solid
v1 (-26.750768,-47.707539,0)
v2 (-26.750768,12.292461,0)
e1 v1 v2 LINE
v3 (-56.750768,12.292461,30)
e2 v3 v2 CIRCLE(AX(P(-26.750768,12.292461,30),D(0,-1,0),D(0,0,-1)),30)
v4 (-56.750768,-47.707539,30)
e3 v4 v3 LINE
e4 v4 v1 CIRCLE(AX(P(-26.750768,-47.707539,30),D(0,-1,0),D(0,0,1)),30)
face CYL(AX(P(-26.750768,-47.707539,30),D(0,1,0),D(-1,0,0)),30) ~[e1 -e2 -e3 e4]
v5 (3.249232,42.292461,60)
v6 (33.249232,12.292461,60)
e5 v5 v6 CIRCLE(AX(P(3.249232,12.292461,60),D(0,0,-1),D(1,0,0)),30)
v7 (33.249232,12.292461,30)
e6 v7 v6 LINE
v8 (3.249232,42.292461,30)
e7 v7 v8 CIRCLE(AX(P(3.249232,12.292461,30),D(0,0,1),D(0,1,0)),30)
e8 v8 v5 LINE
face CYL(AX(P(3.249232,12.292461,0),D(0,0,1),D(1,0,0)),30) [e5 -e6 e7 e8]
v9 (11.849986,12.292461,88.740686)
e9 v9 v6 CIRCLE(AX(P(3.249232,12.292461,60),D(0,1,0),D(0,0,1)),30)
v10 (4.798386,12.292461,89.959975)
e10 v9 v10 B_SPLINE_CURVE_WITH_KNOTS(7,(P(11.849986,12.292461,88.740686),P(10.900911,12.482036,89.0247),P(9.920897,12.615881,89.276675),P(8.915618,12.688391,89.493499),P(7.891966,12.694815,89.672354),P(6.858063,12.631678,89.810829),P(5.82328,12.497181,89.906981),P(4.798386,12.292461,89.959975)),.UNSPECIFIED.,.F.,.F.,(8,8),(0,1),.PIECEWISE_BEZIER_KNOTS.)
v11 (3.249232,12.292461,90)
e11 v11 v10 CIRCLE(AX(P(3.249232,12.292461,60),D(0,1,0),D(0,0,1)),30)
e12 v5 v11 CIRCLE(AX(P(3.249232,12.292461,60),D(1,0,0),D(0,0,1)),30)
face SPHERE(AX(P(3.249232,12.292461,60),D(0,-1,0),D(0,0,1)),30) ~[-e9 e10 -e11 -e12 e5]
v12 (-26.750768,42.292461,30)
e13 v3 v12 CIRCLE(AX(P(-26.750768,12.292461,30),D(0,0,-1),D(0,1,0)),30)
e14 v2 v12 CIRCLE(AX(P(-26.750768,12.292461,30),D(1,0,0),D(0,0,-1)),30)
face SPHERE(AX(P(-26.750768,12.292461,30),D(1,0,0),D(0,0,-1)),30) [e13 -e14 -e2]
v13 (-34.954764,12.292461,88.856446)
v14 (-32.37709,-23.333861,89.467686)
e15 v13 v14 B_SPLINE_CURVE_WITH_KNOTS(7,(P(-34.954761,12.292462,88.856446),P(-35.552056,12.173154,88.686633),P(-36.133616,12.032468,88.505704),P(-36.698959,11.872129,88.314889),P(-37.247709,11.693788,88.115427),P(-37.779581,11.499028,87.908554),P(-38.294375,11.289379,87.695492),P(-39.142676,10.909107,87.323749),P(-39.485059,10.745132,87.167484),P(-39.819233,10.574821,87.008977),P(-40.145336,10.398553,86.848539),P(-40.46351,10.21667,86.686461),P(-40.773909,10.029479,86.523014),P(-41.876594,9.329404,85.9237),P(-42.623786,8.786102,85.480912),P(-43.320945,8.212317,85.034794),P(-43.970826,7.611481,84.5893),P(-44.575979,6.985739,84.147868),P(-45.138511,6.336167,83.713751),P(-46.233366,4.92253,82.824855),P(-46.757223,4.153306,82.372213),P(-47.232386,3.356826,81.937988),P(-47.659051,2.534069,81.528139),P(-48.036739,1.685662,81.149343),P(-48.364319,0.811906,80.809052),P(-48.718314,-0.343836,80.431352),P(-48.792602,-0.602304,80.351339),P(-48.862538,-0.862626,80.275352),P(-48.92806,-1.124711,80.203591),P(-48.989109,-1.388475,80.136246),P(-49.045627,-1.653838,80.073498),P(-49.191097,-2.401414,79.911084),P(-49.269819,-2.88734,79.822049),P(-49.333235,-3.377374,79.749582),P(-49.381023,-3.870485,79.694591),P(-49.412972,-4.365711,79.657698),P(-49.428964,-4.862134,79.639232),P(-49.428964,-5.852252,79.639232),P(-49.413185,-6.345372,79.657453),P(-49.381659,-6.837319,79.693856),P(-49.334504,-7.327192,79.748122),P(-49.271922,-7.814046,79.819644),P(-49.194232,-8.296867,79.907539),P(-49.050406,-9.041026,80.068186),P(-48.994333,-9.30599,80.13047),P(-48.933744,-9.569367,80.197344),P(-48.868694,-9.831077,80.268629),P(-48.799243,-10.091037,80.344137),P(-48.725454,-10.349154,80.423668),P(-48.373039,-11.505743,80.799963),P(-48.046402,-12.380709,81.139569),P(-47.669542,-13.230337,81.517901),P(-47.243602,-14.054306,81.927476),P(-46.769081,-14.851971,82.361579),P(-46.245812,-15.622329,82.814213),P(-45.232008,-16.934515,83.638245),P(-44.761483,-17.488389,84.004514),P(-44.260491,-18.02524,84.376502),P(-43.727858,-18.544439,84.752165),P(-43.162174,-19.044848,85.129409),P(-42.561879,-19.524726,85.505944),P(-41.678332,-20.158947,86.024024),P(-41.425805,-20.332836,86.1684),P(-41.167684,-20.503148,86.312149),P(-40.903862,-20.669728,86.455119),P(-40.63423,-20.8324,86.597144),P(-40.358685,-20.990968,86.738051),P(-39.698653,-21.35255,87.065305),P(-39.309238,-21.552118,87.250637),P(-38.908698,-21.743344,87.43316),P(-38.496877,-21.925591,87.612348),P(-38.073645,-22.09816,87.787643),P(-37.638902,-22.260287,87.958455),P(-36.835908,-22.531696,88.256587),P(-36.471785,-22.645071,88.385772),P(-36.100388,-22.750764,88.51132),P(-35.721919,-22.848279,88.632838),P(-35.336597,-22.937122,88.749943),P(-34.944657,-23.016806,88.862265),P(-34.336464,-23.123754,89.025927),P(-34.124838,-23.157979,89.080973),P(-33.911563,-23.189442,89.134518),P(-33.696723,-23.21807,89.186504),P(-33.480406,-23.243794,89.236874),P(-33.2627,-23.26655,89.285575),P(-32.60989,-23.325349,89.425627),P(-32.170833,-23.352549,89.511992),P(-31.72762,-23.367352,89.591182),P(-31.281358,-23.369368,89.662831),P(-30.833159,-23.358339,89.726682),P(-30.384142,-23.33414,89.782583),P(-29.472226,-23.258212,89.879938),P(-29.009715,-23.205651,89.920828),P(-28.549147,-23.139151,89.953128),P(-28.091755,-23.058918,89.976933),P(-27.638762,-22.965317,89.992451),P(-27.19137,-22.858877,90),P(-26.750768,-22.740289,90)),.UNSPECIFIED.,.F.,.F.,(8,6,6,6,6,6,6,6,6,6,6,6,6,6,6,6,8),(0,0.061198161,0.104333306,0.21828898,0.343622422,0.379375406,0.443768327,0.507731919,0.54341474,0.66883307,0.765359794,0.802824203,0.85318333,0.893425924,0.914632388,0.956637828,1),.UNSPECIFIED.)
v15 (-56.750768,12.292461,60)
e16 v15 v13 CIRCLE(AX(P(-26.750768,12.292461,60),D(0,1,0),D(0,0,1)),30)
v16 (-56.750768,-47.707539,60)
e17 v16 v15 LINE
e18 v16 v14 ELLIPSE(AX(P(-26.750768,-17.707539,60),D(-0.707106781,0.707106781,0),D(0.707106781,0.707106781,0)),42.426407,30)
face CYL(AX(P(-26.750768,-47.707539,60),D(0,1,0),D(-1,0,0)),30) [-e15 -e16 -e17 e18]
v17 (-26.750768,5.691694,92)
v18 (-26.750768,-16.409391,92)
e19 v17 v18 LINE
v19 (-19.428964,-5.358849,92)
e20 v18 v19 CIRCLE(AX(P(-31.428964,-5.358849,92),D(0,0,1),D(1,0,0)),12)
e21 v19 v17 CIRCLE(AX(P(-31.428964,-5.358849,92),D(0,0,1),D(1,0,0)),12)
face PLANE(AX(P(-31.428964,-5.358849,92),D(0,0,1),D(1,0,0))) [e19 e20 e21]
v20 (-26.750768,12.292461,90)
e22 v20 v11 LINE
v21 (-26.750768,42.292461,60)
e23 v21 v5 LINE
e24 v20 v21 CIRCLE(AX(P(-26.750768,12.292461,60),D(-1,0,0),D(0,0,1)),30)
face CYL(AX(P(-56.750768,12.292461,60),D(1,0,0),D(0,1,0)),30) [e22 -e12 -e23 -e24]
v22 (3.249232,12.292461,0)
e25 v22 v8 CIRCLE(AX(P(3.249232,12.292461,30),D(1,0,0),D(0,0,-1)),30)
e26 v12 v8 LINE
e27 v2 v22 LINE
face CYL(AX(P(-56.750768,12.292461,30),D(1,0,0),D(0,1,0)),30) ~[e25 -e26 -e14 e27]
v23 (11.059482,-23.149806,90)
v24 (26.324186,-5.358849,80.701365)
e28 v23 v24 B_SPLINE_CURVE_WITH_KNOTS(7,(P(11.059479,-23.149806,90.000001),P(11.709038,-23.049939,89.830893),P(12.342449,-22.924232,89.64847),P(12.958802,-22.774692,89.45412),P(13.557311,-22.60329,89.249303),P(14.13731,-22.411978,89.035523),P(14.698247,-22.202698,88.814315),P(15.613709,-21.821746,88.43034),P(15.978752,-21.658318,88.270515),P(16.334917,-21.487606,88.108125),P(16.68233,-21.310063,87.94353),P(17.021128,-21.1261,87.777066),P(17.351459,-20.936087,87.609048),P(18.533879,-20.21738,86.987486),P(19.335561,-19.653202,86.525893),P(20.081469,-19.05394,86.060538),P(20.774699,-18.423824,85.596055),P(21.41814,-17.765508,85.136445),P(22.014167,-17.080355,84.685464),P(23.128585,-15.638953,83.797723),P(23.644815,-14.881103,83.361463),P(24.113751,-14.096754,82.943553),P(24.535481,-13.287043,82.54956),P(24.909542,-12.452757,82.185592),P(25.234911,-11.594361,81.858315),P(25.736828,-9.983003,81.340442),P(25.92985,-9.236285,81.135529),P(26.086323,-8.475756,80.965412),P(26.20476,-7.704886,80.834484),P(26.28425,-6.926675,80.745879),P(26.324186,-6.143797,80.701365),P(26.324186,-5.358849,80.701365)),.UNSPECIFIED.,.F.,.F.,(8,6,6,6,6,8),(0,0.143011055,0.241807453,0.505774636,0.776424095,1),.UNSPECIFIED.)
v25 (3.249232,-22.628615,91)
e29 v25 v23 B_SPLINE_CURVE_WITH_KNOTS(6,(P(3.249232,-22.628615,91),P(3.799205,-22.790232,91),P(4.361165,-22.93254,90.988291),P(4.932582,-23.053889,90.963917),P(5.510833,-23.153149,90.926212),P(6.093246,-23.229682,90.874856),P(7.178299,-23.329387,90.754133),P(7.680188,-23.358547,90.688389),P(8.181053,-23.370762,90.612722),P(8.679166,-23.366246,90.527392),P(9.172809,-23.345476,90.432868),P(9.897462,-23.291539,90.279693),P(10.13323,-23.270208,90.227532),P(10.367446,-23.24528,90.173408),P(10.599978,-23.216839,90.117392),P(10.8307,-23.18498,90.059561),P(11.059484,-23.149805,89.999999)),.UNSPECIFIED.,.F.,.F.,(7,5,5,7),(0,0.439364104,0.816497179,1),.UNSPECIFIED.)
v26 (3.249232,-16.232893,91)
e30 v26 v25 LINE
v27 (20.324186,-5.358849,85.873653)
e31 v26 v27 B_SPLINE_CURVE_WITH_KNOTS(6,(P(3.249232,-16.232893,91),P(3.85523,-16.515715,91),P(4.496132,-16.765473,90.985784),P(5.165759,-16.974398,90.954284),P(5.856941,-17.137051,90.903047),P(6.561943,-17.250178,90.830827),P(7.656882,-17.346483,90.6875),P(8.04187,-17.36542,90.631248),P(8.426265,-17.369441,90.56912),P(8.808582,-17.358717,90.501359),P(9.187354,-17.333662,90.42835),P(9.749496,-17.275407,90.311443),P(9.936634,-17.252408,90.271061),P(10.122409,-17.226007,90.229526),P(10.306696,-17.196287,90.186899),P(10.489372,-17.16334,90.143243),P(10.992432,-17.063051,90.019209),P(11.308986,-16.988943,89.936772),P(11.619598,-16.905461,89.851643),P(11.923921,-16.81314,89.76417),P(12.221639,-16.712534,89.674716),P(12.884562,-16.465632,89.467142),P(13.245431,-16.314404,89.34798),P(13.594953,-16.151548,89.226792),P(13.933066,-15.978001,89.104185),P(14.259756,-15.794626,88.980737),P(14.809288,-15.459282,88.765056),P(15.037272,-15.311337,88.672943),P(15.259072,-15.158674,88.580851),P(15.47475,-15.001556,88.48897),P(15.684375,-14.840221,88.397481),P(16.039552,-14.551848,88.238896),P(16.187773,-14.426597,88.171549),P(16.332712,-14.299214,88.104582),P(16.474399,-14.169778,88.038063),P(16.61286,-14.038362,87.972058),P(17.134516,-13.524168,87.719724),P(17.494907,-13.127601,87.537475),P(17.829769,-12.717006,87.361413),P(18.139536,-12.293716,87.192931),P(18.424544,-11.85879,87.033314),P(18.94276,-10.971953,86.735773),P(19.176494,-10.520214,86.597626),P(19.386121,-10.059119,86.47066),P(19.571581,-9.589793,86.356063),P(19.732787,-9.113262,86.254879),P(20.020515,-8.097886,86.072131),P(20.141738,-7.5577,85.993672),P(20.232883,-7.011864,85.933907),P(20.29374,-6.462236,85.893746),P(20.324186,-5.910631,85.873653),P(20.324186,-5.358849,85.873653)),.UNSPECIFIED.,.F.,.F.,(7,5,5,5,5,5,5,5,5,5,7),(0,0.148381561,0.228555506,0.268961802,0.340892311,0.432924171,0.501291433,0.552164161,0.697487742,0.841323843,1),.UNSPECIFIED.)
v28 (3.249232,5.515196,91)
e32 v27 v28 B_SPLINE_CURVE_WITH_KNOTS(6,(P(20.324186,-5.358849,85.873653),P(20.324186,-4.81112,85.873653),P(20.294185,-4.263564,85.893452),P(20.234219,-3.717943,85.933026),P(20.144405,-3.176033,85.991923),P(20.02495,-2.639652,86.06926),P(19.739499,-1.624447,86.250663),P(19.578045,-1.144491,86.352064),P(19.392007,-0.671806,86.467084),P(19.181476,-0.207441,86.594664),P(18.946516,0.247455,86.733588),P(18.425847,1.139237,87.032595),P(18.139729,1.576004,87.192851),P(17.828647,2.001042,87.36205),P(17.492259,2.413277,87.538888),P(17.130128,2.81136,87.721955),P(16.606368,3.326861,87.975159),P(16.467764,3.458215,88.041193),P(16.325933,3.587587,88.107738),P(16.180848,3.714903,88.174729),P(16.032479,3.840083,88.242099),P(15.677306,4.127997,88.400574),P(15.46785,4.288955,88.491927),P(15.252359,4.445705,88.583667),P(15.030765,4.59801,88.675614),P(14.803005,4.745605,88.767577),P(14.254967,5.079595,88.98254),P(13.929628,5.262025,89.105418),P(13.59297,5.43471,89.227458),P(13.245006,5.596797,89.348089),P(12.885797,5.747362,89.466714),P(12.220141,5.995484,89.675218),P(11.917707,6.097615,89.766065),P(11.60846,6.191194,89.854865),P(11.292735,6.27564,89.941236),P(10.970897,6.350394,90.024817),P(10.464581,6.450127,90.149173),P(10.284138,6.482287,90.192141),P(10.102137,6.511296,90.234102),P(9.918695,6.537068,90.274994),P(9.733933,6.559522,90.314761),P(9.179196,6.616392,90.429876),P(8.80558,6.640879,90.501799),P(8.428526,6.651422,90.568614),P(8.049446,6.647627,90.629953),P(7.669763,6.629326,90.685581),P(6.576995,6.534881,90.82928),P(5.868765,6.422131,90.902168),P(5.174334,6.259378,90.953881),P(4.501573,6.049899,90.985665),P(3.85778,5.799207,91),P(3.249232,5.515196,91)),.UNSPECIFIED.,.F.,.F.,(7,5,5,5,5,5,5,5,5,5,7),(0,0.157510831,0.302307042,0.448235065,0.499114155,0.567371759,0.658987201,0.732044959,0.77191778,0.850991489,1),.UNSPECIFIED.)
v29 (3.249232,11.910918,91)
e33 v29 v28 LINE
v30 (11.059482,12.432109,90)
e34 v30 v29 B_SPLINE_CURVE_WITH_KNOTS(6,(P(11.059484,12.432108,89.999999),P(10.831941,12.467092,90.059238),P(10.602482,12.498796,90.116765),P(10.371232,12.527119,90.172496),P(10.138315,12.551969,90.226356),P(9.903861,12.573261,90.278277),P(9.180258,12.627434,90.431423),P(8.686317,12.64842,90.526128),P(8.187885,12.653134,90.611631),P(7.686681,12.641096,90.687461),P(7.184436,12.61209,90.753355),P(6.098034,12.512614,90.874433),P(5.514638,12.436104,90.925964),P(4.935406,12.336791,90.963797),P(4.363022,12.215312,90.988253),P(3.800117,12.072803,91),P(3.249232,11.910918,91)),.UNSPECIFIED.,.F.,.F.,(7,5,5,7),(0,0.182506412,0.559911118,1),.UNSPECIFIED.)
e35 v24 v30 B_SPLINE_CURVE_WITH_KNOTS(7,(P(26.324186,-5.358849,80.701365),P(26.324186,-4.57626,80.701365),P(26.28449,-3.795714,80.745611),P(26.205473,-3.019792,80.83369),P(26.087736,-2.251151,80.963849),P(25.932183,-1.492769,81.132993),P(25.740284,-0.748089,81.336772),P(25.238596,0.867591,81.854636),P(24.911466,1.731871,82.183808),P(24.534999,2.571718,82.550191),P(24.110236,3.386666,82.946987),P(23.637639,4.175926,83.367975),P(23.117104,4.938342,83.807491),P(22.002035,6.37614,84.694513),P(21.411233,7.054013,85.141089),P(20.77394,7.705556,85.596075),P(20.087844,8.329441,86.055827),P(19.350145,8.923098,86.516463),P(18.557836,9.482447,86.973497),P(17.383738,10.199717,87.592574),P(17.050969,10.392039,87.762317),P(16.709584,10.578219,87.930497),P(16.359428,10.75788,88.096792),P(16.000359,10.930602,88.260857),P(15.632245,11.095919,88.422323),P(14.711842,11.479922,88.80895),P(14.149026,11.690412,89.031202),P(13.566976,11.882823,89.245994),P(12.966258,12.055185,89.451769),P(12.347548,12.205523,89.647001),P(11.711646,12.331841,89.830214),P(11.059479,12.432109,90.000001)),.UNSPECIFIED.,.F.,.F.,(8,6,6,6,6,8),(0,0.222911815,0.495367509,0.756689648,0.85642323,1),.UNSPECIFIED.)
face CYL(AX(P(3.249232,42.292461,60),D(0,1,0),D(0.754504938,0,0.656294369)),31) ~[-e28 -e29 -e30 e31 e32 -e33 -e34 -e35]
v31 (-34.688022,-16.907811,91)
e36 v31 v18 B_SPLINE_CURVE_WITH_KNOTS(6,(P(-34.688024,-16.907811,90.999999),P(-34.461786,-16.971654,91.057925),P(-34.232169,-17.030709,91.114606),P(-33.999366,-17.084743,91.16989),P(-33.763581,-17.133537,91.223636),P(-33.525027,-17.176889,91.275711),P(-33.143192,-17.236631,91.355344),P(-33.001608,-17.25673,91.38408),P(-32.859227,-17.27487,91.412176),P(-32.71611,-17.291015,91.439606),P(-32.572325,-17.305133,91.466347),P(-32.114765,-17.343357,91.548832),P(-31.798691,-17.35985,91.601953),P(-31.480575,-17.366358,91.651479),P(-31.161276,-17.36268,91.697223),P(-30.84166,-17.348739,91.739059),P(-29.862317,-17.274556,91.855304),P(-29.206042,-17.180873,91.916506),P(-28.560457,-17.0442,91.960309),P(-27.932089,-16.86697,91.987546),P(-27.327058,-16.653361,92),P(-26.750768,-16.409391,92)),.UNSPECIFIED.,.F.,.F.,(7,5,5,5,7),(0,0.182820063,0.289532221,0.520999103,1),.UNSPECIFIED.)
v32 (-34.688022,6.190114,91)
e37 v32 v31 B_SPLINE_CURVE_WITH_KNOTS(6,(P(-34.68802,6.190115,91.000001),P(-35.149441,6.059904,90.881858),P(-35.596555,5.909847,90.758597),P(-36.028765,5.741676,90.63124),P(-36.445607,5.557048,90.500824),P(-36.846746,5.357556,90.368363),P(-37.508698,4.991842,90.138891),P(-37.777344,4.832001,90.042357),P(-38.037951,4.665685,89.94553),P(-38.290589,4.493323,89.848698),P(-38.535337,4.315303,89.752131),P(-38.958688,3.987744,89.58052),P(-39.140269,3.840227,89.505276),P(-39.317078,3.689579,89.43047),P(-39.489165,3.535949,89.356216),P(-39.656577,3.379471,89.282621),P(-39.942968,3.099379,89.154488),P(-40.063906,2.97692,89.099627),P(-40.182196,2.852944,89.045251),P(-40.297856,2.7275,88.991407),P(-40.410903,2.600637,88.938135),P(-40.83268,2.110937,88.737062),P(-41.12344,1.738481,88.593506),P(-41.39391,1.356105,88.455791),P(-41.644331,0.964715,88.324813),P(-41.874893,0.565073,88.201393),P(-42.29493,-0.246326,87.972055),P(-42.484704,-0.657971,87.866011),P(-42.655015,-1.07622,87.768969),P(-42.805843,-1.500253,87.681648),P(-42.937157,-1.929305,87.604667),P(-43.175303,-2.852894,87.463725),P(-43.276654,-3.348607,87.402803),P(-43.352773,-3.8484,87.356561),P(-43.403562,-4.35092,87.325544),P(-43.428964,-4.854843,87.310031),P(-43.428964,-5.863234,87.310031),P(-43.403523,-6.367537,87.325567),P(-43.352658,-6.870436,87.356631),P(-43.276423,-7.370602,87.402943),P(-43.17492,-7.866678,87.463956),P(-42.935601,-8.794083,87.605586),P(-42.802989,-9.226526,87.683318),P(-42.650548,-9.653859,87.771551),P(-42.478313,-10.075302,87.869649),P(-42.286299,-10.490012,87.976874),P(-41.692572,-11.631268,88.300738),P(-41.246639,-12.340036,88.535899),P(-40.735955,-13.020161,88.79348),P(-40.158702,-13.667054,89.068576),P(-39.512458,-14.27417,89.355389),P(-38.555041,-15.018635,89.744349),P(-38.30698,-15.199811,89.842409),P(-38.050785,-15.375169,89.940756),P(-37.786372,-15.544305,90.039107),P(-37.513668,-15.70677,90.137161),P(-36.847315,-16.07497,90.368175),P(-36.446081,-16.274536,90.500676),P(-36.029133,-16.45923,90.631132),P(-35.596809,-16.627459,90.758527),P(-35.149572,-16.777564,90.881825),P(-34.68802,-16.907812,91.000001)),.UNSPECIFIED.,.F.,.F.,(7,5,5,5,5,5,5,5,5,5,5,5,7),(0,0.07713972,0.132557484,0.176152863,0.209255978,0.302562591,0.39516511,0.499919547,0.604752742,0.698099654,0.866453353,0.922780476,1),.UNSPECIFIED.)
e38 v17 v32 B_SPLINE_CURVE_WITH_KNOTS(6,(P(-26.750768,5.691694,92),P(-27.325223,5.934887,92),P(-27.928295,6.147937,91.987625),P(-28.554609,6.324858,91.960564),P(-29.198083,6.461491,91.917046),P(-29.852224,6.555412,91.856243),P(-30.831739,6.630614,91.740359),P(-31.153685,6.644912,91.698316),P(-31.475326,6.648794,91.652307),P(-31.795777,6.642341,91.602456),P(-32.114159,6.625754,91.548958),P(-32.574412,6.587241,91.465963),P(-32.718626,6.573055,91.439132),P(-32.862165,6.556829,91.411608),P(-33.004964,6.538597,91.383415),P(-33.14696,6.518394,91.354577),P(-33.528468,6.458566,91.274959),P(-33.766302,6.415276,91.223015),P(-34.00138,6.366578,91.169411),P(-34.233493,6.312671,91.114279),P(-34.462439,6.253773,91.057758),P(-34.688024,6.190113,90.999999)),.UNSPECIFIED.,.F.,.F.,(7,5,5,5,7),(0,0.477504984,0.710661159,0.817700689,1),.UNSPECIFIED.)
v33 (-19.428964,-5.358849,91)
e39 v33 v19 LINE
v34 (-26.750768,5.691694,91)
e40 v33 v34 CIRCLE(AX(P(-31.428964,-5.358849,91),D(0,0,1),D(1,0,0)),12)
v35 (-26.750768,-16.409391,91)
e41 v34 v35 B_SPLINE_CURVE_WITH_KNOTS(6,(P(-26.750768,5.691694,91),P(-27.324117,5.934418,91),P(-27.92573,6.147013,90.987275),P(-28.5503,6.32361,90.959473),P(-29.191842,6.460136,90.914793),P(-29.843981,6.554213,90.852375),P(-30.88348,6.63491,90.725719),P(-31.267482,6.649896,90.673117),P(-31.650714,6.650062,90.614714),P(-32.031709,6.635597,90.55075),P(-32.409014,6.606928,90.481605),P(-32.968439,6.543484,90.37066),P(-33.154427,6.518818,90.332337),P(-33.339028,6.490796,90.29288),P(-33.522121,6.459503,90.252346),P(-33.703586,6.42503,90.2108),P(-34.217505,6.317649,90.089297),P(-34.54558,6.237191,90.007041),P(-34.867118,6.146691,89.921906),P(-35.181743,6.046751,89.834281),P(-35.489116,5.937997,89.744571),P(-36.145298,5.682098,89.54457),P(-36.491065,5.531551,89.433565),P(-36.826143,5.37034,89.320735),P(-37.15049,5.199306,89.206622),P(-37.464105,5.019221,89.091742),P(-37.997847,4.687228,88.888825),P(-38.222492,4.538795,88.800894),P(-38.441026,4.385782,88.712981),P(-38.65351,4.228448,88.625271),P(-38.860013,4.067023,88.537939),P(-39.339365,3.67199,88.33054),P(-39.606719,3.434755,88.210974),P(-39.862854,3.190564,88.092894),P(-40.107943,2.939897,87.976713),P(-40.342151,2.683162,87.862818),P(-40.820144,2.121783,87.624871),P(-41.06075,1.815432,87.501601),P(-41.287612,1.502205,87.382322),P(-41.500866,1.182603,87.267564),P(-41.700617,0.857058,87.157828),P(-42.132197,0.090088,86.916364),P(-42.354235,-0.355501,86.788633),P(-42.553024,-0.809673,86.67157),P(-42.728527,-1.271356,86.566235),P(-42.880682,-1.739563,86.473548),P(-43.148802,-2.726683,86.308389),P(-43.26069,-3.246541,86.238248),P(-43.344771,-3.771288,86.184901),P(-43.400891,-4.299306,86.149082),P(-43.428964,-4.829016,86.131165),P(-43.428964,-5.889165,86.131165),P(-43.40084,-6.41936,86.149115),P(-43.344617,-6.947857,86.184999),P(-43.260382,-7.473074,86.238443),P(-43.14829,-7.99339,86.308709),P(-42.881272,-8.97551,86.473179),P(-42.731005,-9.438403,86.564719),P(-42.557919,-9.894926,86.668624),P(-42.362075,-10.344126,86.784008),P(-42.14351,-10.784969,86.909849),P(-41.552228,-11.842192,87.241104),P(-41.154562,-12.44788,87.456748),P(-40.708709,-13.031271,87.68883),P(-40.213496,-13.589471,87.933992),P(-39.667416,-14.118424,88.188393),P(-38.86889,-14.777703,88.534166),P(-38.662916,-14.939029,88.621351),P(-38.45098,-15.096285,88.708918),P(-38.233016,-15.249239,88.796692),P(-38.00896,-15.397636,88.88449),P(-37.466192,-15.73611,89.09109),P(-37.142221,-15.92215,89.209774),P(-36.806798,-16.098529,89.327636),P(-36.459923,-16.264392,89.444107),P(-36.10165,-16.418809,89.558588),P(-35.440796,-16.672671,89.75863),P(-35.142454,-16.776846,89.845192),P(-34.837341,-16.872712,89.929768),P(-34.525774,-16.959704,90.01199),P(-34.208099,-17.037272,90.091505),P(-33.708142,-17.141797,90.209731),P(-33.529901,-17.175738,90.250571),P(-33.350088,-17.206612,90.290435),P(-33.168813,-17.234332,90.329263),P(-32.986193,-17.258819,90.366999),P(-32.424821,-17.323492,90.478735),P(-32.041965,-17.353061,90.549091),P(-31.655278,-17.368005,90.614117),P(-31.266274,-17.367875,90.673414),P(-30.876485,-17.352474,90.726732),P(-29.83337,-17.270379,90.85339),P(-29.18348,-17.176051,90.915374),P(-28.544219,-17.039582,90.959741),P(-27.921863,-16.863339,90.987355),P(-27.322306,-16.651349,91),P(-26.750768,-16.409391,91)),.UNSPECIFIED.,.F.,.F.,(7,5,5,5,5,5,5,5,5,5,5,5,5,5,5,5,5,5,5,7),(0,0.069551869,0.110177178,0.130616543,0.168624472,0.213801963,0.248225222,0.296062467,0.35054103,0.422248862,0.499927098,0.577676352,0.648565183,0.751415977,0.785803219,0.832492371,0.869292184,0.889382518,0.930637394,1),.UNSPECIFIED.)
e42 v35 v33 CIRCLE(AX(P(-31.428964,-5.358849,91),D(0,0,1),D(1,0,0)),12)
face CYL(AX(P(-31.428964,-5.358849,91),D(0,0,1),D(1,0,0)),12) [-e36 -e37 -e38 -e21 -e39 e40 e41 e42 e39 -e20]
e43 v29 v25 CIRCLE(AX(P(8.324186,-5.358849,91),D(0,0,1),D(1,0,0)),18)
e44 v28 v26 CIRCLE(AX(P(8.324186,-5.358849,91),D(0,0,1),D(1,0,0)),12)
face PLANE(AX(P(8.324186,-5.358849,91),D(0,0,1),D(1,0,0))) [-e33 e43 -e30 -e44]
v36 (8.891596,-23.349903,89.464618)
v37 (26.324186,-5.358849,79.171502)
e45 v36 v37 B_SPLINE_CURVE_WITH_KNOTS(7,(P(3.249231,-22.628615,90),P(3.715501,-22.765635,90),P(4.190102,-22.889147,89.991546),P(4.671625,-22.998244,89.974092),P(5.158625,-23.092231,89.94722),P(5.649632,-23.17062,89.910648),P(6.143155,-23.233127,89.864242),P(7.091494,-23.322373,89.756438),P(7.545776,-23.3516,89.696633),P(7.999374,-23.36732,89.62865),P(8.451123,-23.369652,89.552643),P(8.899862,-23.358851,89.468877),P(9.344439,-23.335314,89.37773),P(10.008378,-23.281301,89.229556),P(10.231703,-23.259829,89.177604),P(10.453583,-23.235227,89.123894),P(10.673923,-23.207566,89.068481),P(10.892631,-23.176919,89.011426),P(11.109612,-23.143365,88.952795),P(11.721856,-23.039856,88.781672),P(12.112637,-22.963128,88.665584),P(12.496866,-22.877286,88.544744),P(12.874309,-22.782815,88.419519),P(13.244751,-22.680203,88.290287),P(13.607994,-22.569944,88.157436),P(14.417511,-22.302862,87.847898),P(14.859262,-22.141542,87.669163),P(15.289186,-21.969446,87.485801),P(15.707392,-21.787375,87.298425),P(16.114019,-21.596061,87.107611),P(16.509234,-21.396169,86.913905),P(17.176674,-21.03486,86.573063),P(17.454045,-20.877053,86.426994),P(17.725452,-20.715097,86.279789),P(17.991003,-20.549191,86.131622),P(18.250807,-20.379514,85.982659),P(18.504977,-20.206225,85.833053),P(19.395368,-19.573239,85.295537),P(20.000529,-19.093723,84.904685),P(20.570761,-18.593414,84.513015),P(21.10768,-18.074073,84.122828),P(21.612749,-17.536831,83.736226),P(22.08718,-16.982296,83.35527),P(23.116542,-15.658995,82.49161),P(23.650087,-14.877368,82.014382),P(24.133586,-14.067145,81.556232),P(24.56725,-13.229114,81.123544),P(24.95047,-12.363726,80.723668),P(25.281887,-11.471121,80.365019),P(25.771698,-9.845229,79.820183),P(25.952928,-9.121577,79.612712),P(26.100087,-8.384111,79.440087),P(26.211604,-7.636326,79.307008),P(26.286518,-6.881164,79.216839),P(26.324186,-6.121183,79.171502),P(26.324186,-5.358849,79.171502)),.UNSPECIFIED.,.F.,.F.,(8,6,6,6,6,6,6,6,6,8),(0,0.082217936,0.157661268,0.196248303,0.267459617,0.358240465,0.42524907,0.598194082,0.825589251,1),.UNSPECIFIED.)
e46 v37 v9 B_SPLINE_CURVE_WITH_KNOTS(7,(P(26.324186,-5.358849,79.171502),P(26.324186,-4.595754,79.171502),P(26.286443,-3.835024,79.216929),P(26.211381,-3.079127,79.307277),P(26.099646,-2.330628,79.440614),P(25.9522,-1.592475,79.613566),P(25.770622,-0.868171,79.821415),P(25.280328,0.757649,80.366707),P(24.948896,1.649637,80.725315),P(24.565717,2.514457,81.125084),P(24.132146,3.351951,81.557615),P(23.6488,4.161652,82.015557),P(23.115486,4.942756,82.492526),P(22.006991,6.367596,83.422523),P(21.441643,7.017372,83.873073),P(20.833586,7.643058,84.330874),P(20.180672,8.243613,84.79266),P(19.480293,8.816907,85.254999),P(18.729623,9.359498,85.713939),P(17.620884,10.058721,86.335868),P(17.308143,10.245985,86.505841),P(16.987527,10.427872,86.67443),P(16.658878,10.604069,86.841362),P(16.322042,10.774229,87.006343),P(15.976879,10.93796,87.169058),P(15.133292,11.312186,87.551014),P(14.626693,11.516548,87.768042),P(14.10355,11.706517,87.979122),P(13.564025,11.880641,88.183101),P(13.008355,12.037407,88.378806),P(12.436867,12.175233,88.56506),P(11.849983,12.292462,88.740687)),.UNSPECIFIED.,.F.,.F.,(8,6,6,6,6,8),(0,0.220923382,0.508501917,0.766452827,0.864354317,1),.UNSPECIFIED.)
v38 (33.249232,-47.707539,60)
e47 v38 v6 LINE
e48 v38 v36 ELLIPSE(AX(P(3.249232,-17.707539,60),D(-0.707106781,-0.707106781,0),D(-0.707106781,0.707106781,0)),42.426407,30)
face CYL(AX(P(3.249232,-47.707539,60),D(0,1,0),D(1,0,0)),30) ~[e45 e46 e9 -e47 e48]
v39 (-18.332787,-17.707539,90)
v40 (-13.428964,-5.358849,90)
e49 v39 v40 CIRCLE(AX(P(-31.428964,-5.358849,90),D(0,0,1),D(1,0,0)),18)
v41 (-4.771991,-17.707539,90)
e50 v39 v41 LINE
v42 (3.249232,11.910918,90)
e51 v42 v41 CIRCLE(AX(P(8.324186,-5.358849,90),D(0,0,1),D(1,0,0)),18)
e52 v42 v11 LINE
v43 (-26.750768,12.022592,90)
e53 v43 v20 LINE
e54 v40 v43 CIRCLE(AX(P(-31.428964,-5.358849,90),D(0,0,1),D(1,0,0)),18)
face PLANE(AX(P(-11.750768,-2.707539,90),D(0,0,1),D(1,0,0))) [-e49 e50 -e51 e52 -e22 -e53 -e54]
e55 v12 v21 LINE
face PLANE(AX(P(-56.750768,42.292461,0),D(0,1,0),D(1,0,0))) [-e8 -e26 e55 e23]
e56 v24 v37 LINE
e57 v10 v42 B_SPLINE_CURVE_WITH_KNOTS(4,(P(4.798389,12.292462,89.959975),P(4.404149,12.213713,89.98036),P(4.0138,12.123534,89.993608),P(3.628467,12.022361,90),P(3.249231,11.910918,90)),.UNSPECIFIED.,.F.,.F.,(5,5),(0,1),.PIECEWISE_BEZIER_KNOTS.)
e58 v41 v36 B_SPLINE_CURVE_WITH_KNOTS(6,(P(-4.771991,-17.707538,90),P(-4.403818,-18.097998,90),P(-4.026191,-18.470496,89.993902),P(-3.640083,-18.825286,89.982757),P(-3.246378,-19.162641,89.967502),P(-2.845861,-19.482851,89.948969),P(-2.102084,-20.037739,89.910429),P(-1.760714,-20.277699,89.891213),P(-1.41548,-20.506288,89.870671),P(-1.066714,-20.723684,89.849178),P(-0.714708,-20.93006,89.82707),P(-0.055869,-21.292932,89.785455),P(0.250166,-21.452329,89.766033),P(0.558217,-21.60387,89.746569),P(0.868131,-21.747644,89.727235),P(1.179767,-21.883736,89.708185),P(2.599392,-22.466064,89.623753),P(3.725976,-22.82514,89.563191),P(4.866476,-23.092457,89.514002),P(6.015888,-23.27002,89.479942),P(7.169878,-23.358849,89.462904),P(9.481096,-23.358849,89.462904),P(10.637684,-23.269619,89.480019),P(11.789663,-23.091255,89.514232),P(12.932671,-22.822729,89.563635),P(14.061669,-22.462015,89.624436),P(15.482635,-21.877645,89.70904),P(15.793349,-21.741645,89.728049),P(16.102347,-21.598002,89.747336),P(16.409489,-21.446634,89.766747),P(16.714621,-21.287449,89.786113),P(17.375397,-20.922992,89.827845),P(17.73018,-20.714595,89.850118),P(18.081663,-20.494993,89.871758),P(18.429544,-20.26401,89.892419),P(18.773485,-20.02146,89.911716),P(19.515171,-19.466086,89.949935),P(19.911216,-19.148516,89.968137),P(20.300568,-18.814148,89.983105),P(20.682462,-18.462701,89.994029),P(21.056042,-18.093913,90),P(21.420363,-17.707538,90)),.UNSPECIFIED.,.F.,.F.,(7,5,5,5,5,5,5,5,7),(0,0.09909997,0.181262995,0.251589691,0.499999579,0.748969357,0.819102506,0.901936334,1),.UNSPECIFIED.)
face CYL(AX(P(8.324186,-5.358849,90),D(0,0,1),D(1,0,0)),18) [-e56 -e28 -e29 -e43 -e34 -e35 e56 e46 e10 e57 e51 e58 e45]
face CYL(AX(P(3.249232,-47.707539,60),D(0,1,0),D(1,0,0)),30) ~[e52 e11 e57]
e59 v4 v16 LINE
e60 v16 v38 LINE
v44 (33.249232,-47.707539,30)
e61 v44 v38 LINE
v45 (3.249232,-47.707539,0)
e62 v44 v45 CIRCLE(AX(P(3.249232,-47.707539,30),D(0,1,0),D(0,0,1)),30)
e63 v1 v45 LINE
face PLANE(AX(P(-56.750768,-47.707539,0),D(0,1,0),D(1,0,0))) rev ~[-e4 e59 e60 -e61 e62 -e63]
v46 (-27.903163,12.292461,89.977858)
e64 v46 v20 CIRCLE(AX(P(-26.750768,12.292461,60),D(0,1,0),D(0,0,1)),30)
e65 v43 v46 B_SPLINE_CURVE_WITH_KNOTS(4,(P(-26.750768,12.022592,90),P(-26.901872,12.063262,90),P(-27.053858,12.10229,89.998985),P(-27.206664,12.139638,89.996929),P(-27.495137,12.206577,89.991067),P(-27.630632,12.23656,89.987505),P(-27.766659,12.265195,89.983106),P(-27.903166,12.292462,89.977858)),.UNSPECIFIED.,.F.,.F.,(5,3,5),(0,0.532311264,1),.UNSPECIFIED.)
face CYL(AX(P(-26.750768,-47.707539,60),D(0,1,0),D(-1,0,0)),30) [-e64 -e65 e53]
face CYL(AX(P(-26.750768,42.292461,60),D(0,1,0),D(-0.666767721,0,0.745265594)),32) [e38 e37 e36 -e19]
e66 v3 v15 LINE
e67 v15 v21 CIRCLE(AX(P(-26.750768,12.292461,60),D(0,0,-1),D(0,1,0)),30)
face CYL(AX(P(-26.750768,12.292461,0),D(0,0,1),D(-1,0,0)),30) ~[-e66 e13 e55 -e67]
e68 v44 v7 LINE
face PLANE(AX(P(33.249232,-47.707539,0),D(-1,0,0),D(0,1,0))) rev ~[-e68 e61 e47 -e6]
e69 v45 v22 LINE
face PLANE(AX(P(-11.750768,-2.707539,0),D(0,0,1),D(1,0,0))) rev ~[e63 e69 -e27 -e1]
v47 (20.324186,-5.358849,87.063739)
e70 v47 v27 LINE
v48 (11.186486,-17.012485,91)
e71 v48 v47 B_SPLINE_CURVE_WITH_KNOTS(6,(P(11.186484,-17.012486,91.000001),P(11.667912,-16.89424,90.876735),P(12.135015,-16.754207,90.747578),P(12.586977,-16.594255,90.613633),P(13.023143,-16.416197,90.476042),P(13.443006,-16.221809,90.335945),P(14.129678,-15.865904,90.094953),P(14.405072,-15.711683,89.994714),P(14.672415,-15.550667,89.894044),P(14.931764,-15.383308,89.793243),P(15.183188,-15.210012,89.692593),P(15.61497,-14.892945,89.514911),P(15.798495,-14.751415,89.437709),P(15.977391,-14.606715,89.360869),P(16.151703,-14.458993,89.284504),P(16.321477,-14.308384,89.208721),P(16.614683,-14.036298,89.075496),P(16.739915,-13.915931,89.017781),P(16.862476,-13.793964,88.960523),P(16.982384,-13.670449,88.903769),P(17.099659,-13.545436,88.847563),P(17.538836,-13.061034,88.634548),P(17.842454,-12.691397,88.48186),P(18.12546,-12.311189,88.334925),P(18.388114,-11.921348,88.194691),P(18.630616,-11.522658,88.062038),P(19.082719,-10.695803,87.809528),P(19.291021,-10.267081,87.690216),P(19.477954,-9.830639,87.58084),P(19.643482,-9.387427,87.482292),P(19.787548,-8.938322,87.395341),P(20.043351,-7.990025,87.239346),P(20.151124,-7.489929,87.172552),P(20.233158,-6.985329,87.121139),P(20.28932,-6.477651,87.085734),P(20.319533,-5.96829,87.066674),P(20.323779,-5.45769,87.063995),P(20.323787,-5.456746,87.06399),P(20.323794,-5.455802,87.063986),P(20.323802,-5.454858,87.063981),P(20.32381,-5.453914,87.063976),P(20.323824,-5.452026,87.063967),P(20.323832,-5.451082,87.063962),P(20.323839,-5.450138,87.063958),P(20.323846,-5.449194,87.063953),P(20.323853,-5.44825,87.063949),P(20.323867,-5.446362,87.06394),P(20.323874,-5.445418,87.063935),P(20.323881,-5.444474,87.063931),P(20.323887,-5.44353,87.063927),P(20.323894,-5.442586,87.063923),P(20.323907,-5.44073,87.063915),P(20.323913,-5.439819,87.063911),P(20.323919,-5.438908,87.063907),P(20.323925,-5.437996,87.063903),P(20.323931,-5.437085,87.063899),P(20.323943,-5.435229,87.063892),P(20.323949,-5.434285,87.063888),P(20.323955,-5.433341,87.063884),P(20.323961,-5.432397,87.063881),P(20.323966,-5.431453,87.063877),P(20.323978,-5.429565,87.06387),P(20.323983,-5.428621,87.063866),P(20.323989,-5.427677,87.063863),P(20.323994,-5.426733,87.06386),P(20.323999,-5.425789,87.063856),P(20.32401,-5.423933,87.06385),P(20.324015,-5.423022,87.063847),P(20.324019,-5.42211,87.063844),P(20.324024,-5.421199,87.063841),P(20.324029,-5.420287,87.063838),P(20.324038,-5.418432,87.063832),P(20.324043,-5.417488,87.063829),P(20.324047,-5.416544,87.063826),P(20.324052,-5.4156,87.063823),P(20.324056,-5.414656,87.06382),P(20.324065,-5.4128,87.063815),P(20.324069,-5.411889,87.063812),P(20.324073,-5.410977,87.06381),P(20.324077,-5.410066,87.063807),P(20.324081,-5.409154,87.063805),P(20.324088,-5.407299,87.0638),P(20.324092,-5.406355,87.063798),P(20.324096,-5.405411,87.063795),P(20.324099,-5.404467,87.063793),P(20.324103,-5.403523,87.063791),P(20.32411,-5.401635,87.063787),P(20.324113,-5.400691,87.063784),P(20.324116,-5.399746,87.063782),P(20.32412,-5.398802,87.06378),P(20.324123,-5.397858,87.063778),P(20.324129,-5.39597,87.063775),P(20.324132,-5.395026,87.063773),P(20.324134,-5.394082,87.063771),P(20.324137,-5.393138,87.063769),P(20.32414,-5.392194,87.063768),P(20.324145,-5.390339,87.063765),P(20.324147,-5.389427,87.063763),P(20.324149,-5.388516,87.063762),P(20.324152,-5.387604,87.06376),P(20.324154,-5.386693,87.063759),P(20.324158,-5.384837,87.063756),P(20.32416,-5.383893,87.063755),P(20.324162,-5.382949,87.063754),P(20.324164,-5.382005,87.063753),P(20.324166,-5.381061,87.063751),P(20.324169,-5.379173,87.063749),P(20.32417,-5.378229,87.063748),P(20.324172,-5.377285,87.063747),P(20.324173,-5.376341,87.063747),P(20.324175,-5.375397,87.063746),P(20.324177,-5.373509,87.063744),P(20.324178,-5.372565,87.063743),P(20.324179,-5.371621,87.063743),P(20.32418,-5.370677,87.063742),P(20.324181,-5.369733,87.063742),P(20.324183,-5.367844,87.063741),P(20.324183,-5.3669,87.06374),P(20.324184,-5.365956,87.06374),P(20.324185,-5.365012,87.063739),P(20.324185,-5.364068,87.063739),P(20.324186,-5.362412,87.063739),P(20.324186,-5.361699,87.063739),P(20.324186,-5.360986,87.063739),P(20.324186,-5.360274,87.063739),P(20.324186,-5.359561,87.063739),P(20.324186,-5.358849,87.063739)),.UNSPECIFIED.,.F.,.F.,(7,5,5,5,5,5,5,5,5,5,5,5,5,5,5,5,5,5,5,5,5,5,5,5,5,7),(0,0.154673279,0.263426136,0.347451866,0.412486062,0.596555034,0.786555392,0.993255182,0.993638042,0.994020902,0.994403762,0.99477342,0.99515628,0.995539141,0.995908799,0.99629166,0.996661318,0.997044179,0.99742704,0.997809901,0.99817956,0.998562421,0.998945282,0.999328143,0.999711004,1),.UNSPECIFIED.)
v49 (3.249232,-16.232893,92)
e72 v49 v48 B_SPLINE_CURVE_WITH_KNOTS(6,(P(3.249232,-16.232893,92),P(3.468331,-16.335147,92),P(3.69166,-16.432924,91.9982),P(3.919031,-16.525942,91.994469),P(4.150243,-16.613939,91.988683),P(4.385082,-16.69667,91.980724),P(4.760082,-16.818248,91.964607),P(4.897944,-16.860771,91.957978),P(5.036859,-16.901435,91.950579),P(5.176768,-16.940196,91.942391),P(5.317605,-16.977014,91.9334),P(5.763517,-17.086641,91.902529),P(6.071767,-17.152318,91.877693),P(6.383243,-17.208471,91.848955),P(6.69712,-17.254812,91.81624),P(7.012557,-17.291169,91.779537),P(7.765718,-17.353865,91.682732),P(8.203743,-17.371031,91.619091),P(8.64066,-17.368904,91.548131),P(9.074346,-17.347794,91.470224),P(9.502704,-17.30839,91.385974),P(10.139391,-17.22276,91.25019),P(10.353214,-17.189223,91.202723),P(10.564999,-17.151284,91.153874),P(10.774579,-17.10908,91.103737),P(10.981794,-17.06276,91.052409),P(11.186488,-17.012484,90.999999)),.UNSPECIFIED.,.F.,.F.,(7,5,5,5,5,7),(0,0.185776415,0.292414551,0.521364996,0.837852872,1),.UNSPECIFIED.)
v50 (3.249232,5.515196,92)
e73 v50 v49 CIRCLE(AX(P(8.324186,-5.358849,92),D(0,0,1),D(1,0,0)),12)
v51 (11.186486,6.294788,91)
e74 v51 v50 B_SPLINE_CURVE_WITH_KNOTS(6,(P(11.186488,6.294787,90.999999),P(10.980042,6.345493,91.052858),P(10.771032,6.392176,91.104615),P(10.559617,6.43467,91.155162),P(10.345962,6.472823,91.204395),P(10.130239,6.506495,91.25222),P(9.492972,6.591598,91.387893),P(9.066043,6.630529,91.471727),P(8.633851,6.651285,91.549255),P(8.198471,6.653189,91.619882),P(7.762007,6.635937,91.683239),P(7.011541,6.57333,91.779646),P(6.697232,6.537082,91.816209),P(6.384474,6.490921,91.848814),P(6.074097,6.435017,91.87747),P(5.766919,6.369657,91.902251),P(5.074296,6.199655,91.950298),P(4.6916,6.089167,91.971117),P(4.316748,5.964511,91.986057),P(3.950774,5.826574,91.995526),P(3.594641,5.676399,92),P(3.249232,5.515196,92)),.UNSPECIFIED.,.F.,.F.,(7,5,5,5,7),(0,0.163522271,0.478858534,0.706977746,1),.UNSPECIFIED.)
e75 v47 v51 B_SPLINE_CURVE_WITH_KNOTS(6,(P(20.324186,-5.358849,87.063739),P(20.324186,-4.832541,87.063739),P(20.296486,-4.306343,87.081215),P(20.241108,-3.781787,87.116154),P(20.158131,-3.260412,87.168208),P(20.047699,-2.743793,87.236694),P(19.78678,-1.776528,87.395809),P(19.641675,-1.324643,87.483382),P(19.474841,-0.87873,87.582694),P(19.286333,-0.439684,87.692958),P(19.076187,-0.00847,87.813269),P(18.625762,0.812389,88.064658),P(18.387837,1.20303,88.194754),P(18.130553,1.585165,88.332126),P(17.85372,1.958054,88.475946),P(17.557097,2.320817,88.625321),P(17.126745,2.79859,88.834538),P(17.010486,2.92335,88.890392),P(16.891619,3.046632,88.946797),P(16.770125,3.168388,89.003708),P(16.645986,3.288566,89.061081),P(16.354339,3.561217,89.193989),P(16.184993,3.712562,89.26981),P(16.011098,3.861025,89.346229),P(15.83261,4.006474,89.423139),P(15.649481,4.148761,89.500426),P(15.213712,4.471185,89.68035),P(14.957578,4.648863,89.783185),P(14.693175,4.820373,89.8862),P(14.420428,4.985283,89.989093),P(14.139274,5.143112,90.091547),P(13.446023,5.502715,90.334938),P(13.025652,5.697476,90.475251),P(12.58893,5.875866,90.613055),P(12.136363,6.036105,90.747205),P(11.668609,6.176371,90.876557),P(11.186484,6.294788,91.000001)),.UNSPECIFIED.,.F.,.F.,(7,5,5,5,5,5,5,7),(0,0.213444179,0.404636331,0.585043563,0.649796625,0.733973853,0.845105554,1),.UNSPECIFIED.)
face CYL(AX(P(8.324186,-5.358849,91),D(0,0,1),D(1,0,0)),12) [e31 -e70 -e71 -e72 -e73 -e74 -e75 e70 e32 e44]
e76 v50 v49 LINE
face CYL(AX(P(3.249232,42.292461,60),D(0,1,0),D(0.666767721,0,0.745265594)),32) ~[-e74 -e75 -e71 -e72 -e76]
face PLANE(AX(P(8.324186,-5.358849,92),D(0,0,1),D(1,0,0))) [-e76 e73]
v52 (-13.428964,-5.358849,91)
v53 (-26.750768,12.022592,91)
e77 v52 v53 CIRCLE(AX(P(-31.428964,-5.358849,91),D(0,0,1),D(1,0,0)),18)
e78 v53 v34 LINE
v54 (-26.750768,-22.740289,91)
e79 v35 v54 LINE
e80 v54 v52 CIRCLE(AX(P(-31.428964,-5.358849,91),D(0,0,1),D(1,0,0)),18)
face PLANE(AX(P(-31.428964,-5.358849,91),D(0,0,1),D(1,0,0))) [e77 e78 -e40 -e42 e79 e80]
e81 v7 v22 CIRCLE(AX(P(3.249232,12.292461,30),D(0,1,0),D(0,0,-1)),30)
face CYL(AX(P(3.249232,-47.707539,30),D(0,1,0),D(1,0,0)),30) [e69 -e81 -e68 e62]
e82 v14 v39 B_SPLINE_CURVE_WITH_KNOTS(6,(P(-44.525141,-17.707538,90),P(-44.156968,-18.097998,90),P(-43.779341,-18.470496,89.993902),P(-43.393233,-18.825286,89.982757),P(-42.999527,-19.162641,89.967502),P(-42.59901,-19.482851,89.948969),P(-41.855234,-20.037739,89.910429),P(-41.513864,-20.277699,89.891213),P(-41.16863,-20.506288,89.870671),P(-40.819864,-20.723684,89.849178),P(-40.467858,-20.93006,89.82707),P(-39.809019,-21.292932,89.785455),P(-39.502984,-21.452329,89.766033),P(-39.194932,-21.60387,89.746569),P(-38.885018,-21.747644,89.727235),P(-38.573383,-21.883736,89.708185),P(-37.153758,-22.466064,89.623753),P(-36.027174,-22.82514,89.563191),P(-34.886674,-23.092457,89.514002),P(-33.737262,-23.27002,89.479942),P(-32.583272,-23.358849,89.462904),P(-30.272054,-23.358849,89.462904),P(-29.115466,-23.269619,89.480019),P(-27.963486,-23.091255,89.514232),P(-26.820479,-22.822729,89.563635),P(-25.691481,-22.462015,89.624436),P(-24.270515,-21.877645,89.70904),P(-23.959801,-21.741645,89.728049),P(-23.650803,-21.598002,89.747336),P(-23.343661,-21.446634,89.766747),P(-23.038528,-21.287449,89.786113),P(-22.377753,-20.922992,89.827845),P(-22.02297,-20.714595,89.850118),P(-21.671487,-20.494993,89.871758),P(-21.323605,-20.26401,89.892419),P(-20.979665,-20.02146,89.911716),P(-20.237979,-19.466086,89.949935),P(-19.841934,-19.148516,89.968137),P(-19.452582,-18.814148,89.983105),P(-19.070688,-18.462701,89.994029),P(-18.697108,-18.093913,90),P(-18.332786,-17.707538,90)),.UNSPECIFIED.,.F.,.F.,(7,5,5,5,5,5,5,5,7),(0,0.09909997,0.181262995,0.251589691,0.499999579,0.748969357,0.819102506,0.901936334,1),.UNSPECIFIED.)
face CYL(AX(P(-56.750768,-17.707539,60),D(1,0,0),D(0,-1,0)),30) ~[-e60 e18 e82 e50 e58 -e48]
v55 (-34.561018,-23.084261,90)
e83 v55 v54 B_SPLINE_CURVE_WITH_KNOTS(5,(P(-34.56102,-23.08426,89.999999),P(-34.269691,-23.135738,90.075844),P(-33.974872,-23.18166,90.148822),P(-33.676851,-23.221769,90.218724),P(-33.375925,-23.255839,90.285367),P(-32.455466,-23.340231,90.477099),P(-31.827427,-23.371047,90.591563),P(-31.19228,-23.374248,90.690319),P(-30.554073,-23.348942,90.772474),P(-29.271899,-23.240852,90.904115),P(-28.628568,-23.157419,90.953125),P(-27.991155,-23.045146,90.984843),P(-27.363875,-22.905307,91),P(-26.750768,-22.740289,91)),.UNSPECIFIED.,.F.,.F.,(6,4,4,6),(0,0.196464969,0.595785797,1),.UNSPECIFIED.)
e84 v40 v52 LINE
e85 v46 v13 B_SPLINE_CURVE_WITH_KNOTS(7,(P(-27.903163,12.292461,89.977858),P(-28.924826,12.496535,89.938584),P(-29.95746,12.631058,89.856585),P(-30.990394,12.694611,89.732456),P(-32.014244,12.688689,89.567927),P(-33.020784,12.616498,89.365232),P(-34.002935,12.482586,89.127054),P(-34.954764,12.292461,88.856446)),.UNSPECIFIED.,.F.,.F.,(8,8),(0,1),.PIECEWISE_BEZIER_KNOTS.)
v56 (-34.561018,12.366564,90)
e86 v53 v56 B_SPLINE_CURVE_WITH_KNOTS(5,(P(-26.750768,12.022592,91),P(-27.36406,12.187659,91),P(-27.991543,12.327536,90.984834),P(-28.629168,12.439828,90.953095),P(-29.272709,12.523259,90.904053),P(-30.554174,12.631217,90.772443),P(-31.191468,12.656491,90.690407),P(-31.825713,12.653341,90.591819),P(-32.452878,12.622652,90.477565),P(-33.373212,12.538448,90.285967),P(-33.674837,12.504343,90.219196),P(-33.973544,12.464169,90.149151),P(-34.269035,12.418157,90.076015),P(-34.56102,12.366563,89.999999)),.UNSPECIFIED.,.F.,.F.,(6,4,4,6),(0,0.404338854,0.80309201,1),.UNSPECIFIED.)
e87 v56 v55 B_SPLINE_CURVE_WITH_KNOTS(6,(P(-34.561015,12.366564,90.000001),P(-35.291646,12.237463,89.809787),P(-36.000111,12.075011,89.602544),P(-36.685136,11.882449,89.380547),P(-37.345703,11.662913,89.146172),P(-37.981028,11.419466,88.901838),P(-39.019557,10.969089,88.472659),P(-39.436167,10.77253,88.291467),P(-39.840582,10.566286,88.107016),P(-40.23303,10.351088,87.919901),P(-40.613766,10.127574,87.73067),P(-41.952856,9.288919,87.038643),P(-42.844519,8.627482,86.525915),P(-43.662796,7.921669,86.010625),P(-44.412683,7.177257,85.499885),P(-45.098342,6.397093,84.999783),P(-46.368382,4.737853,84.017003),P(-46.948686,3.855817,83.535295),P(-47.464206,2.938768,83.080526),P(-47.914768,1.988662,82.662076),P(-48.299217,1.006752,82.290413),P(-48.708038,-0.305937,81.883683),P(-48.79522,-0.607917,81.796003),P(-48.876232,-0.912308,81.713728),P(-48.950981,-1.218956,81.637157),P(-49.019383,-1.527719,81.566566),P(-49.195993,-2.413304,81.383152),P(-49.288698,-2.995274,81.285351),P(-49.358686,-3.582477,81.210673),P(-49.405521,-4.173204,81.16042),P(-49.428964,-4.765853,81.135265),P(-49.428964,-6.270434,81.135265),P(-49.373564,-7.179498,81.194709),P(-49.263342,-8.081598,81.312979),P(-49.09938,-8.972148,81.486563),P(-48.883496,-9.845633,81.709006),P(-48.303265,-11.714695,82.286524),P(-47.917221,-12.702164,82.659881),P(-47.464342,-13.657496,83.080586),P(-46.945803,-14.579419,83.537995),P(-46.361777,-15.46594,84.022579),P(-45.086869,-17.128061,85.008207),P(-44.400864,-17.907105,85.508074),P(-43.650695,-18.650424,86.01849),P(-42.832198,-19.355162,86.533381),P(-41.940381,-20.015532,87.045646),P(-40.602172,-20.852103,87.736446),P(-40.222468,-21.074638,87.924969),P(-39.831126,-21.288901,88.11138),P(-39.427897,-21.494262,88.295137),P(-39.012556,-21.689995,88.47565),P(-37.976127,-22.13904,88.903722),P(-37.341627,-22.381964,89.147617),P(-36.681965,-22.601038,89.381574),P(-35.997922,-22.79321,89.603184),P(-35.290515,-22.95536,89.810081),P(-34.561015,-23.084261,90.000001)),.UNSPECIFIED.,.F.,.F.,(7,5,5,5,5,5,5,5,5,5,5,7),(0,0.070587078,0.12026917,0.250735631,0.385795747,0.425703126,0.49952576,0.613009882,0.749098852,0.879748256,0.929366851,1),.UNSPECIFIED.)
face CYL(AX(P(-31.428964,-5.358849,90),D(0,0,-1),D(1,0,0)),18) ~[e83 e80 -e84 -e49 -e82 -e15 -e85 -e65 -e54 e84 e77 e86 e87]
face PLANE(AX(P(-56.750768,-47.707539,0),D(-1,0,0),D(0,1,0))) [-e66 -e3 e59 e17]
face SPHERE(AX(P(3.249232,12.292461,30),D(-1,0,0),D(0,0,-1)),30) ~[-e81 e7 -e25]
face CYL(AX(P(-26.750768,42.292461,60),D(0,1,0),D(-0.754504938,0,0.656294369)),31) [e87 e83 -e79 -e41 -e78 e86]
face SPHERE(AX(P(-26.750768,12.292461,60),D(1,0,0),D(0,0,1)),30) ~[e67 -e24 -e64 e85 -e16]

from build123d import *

# Parameters (mm, degrees)
CROQUIS1_W                   = 90
CROQUIS1_H                   = 90
SALIENTE_EXTRUIR1_DEPTH      = 90
REDONDEO2_R                  = 30
CROQUIS2_R                   = 18
SALIENTE_EXTRUIR2_DEPTH      = 1
SALIENTE_EXTRUIR2_DEPTH_BACK = 12
CORTAR_EXTRUIR1_DEPTH        = 74
CROQUIS4_R                   = 12
SALIENTE_EXTRUIR3_DEPTH      = 1
SALIENTE_EXTRUIR3_DEPTH_BACK = 6
CORTAR_EXTRUIR2_DEPTH        = 100


with BuildPart() as part:
    # Croquis1 → Saliente-Extruir1 (new body)
    with BuildSketch(Plane.XY):
        with Locations((-11.750768053, -2.707538995)):
            Rectangle(CROQUIS1_W, CROQUIS1_H)
    extrude(amount=SALIENTE_EXTRUIR1_DEPTH)

    # Redondeo2
    redondeo2_edges = [part.edges().sort_by_distance(p)[0] for p in [
        (33.249231947, -2.707538995, 90),
        (-11.750768053, 42.292461005, 90),
        (-56.750768053, -2.707538995, 90),
        (-11.750768053, 42.292461005, 0),
        (33.249231947, -2.707538995, 0),
        (-56.750768053, -2.707538995, 0),
        (-11.750768053, -47.707538995, 90),
        (-56.750768053, 42.292461005, 45),
        (33.249231947, 42.292461005, 45),
    ]]
    fillet(redondeo2_edges, radius=REDONDEO2_R)

    # Croquis2 → Saliente-Extruir2 (add, two sides)
    with BuildSketch(Plane.XY.offset(90)) as saliente_extruir2_sk:
        with Locations((8.324186068, -5.35884863)):
            Circle(CROQUIS2_R)
        with Locations((-31.428963697, -5.35884863)):
            Circle(CROQUIS2_R)
    extrude(amount=SALIENTE_EXTRUIR2_DEPTH)
    extrude(saliente_extruir2_sk.sketch, amount=-SALIENTE_EXTRUIR2_DEPTH_BACK)

    # Croquis3 → Cortar-Extruir1 (cut)
    with BuildSketch(Plane(origin=(0, 42.292461005, 0), x_dir=(1, 0, 0), z_dir=(0, 1, 0))):
        with BuildLine():
            ThreePointArc((-50.140421134, -80.34512543), (-39.601859674, -88.210803678), (-26.750768053, -91))
            Line((-26.750768053, -91), (-50.140421134, -91))
            Line((-50.140421134, -91), (-50.140421134, -80.34512543))
        make_face()
        with BuildLine():
            Line((26.638885028, -91), (26.638885028, -80.34512543))
            ThreePointArc((26.638885028, -80.34512543), (16.100323567, -88.210803678), (3.249231947, -91))
            Line((3.249231947, -91), (26.638885028, -91))
        make_face()
    extrude(amount=-CORTAR_EXTRUIR1_DEPTH, mode=Mode.SUBTRACT)

    # Croquis4 → Saliente-Extruir3 (add, two sides)
    with BuildSketch(Plane.XY.offset(91)) as saliente_extruir3_sk:
        with Locations((-31.428963697, -5.35884863)):
            Circle(CROQUIS4_R)
        with Locations((8.324186068, -5.35884863)):
            Circle(CROQUIS4_R)
    extrude(amount=SALIENTE_EXTRUIR3_DEPTH)
    extrude(saliente_extruir3_sk.sketch, amount=-SALIENTE_EXTRUIR3_DEPTH_BACK)

    # Croquis5 → Cortar-Extruir2 (cut)
    with BuildSketch(Plane(origin=(0, 42.292461005, 0), x_dir=(1, 0, 0), z_dir=(0, 1, 0))):
        with BuildLine():
            ThreePointArc((-48.087335127, -83.84849902), (-38.171101485, -89.892741332), (-26.750768053, -92))
            Line((-26.750768053, -92), (-43.428963697, -92))
            Line((-43.428963697, -92), (-48.087335127, -92))
            Line((-48.087335127, -92), (-48.087335127, -83.84849902))
        make_face()
        with BuildLine():
            ThreePointArc((24.585799021, -83.84849902), (14.669565378, -89.892741332), (3.249231947, -92))
            Line((3.249231947, -92), (19.927427591, -92))
            Line((19.927427591, -92), (24.585799021, -92))
            Line((24.585799021, -92), (24.585799021, -83.84849902))
        make_face()
    extrude(amount=-CORTAR_EXTRUIR2_DEPTH, mode=Mode.SUBTRACT)


solid = part.part
